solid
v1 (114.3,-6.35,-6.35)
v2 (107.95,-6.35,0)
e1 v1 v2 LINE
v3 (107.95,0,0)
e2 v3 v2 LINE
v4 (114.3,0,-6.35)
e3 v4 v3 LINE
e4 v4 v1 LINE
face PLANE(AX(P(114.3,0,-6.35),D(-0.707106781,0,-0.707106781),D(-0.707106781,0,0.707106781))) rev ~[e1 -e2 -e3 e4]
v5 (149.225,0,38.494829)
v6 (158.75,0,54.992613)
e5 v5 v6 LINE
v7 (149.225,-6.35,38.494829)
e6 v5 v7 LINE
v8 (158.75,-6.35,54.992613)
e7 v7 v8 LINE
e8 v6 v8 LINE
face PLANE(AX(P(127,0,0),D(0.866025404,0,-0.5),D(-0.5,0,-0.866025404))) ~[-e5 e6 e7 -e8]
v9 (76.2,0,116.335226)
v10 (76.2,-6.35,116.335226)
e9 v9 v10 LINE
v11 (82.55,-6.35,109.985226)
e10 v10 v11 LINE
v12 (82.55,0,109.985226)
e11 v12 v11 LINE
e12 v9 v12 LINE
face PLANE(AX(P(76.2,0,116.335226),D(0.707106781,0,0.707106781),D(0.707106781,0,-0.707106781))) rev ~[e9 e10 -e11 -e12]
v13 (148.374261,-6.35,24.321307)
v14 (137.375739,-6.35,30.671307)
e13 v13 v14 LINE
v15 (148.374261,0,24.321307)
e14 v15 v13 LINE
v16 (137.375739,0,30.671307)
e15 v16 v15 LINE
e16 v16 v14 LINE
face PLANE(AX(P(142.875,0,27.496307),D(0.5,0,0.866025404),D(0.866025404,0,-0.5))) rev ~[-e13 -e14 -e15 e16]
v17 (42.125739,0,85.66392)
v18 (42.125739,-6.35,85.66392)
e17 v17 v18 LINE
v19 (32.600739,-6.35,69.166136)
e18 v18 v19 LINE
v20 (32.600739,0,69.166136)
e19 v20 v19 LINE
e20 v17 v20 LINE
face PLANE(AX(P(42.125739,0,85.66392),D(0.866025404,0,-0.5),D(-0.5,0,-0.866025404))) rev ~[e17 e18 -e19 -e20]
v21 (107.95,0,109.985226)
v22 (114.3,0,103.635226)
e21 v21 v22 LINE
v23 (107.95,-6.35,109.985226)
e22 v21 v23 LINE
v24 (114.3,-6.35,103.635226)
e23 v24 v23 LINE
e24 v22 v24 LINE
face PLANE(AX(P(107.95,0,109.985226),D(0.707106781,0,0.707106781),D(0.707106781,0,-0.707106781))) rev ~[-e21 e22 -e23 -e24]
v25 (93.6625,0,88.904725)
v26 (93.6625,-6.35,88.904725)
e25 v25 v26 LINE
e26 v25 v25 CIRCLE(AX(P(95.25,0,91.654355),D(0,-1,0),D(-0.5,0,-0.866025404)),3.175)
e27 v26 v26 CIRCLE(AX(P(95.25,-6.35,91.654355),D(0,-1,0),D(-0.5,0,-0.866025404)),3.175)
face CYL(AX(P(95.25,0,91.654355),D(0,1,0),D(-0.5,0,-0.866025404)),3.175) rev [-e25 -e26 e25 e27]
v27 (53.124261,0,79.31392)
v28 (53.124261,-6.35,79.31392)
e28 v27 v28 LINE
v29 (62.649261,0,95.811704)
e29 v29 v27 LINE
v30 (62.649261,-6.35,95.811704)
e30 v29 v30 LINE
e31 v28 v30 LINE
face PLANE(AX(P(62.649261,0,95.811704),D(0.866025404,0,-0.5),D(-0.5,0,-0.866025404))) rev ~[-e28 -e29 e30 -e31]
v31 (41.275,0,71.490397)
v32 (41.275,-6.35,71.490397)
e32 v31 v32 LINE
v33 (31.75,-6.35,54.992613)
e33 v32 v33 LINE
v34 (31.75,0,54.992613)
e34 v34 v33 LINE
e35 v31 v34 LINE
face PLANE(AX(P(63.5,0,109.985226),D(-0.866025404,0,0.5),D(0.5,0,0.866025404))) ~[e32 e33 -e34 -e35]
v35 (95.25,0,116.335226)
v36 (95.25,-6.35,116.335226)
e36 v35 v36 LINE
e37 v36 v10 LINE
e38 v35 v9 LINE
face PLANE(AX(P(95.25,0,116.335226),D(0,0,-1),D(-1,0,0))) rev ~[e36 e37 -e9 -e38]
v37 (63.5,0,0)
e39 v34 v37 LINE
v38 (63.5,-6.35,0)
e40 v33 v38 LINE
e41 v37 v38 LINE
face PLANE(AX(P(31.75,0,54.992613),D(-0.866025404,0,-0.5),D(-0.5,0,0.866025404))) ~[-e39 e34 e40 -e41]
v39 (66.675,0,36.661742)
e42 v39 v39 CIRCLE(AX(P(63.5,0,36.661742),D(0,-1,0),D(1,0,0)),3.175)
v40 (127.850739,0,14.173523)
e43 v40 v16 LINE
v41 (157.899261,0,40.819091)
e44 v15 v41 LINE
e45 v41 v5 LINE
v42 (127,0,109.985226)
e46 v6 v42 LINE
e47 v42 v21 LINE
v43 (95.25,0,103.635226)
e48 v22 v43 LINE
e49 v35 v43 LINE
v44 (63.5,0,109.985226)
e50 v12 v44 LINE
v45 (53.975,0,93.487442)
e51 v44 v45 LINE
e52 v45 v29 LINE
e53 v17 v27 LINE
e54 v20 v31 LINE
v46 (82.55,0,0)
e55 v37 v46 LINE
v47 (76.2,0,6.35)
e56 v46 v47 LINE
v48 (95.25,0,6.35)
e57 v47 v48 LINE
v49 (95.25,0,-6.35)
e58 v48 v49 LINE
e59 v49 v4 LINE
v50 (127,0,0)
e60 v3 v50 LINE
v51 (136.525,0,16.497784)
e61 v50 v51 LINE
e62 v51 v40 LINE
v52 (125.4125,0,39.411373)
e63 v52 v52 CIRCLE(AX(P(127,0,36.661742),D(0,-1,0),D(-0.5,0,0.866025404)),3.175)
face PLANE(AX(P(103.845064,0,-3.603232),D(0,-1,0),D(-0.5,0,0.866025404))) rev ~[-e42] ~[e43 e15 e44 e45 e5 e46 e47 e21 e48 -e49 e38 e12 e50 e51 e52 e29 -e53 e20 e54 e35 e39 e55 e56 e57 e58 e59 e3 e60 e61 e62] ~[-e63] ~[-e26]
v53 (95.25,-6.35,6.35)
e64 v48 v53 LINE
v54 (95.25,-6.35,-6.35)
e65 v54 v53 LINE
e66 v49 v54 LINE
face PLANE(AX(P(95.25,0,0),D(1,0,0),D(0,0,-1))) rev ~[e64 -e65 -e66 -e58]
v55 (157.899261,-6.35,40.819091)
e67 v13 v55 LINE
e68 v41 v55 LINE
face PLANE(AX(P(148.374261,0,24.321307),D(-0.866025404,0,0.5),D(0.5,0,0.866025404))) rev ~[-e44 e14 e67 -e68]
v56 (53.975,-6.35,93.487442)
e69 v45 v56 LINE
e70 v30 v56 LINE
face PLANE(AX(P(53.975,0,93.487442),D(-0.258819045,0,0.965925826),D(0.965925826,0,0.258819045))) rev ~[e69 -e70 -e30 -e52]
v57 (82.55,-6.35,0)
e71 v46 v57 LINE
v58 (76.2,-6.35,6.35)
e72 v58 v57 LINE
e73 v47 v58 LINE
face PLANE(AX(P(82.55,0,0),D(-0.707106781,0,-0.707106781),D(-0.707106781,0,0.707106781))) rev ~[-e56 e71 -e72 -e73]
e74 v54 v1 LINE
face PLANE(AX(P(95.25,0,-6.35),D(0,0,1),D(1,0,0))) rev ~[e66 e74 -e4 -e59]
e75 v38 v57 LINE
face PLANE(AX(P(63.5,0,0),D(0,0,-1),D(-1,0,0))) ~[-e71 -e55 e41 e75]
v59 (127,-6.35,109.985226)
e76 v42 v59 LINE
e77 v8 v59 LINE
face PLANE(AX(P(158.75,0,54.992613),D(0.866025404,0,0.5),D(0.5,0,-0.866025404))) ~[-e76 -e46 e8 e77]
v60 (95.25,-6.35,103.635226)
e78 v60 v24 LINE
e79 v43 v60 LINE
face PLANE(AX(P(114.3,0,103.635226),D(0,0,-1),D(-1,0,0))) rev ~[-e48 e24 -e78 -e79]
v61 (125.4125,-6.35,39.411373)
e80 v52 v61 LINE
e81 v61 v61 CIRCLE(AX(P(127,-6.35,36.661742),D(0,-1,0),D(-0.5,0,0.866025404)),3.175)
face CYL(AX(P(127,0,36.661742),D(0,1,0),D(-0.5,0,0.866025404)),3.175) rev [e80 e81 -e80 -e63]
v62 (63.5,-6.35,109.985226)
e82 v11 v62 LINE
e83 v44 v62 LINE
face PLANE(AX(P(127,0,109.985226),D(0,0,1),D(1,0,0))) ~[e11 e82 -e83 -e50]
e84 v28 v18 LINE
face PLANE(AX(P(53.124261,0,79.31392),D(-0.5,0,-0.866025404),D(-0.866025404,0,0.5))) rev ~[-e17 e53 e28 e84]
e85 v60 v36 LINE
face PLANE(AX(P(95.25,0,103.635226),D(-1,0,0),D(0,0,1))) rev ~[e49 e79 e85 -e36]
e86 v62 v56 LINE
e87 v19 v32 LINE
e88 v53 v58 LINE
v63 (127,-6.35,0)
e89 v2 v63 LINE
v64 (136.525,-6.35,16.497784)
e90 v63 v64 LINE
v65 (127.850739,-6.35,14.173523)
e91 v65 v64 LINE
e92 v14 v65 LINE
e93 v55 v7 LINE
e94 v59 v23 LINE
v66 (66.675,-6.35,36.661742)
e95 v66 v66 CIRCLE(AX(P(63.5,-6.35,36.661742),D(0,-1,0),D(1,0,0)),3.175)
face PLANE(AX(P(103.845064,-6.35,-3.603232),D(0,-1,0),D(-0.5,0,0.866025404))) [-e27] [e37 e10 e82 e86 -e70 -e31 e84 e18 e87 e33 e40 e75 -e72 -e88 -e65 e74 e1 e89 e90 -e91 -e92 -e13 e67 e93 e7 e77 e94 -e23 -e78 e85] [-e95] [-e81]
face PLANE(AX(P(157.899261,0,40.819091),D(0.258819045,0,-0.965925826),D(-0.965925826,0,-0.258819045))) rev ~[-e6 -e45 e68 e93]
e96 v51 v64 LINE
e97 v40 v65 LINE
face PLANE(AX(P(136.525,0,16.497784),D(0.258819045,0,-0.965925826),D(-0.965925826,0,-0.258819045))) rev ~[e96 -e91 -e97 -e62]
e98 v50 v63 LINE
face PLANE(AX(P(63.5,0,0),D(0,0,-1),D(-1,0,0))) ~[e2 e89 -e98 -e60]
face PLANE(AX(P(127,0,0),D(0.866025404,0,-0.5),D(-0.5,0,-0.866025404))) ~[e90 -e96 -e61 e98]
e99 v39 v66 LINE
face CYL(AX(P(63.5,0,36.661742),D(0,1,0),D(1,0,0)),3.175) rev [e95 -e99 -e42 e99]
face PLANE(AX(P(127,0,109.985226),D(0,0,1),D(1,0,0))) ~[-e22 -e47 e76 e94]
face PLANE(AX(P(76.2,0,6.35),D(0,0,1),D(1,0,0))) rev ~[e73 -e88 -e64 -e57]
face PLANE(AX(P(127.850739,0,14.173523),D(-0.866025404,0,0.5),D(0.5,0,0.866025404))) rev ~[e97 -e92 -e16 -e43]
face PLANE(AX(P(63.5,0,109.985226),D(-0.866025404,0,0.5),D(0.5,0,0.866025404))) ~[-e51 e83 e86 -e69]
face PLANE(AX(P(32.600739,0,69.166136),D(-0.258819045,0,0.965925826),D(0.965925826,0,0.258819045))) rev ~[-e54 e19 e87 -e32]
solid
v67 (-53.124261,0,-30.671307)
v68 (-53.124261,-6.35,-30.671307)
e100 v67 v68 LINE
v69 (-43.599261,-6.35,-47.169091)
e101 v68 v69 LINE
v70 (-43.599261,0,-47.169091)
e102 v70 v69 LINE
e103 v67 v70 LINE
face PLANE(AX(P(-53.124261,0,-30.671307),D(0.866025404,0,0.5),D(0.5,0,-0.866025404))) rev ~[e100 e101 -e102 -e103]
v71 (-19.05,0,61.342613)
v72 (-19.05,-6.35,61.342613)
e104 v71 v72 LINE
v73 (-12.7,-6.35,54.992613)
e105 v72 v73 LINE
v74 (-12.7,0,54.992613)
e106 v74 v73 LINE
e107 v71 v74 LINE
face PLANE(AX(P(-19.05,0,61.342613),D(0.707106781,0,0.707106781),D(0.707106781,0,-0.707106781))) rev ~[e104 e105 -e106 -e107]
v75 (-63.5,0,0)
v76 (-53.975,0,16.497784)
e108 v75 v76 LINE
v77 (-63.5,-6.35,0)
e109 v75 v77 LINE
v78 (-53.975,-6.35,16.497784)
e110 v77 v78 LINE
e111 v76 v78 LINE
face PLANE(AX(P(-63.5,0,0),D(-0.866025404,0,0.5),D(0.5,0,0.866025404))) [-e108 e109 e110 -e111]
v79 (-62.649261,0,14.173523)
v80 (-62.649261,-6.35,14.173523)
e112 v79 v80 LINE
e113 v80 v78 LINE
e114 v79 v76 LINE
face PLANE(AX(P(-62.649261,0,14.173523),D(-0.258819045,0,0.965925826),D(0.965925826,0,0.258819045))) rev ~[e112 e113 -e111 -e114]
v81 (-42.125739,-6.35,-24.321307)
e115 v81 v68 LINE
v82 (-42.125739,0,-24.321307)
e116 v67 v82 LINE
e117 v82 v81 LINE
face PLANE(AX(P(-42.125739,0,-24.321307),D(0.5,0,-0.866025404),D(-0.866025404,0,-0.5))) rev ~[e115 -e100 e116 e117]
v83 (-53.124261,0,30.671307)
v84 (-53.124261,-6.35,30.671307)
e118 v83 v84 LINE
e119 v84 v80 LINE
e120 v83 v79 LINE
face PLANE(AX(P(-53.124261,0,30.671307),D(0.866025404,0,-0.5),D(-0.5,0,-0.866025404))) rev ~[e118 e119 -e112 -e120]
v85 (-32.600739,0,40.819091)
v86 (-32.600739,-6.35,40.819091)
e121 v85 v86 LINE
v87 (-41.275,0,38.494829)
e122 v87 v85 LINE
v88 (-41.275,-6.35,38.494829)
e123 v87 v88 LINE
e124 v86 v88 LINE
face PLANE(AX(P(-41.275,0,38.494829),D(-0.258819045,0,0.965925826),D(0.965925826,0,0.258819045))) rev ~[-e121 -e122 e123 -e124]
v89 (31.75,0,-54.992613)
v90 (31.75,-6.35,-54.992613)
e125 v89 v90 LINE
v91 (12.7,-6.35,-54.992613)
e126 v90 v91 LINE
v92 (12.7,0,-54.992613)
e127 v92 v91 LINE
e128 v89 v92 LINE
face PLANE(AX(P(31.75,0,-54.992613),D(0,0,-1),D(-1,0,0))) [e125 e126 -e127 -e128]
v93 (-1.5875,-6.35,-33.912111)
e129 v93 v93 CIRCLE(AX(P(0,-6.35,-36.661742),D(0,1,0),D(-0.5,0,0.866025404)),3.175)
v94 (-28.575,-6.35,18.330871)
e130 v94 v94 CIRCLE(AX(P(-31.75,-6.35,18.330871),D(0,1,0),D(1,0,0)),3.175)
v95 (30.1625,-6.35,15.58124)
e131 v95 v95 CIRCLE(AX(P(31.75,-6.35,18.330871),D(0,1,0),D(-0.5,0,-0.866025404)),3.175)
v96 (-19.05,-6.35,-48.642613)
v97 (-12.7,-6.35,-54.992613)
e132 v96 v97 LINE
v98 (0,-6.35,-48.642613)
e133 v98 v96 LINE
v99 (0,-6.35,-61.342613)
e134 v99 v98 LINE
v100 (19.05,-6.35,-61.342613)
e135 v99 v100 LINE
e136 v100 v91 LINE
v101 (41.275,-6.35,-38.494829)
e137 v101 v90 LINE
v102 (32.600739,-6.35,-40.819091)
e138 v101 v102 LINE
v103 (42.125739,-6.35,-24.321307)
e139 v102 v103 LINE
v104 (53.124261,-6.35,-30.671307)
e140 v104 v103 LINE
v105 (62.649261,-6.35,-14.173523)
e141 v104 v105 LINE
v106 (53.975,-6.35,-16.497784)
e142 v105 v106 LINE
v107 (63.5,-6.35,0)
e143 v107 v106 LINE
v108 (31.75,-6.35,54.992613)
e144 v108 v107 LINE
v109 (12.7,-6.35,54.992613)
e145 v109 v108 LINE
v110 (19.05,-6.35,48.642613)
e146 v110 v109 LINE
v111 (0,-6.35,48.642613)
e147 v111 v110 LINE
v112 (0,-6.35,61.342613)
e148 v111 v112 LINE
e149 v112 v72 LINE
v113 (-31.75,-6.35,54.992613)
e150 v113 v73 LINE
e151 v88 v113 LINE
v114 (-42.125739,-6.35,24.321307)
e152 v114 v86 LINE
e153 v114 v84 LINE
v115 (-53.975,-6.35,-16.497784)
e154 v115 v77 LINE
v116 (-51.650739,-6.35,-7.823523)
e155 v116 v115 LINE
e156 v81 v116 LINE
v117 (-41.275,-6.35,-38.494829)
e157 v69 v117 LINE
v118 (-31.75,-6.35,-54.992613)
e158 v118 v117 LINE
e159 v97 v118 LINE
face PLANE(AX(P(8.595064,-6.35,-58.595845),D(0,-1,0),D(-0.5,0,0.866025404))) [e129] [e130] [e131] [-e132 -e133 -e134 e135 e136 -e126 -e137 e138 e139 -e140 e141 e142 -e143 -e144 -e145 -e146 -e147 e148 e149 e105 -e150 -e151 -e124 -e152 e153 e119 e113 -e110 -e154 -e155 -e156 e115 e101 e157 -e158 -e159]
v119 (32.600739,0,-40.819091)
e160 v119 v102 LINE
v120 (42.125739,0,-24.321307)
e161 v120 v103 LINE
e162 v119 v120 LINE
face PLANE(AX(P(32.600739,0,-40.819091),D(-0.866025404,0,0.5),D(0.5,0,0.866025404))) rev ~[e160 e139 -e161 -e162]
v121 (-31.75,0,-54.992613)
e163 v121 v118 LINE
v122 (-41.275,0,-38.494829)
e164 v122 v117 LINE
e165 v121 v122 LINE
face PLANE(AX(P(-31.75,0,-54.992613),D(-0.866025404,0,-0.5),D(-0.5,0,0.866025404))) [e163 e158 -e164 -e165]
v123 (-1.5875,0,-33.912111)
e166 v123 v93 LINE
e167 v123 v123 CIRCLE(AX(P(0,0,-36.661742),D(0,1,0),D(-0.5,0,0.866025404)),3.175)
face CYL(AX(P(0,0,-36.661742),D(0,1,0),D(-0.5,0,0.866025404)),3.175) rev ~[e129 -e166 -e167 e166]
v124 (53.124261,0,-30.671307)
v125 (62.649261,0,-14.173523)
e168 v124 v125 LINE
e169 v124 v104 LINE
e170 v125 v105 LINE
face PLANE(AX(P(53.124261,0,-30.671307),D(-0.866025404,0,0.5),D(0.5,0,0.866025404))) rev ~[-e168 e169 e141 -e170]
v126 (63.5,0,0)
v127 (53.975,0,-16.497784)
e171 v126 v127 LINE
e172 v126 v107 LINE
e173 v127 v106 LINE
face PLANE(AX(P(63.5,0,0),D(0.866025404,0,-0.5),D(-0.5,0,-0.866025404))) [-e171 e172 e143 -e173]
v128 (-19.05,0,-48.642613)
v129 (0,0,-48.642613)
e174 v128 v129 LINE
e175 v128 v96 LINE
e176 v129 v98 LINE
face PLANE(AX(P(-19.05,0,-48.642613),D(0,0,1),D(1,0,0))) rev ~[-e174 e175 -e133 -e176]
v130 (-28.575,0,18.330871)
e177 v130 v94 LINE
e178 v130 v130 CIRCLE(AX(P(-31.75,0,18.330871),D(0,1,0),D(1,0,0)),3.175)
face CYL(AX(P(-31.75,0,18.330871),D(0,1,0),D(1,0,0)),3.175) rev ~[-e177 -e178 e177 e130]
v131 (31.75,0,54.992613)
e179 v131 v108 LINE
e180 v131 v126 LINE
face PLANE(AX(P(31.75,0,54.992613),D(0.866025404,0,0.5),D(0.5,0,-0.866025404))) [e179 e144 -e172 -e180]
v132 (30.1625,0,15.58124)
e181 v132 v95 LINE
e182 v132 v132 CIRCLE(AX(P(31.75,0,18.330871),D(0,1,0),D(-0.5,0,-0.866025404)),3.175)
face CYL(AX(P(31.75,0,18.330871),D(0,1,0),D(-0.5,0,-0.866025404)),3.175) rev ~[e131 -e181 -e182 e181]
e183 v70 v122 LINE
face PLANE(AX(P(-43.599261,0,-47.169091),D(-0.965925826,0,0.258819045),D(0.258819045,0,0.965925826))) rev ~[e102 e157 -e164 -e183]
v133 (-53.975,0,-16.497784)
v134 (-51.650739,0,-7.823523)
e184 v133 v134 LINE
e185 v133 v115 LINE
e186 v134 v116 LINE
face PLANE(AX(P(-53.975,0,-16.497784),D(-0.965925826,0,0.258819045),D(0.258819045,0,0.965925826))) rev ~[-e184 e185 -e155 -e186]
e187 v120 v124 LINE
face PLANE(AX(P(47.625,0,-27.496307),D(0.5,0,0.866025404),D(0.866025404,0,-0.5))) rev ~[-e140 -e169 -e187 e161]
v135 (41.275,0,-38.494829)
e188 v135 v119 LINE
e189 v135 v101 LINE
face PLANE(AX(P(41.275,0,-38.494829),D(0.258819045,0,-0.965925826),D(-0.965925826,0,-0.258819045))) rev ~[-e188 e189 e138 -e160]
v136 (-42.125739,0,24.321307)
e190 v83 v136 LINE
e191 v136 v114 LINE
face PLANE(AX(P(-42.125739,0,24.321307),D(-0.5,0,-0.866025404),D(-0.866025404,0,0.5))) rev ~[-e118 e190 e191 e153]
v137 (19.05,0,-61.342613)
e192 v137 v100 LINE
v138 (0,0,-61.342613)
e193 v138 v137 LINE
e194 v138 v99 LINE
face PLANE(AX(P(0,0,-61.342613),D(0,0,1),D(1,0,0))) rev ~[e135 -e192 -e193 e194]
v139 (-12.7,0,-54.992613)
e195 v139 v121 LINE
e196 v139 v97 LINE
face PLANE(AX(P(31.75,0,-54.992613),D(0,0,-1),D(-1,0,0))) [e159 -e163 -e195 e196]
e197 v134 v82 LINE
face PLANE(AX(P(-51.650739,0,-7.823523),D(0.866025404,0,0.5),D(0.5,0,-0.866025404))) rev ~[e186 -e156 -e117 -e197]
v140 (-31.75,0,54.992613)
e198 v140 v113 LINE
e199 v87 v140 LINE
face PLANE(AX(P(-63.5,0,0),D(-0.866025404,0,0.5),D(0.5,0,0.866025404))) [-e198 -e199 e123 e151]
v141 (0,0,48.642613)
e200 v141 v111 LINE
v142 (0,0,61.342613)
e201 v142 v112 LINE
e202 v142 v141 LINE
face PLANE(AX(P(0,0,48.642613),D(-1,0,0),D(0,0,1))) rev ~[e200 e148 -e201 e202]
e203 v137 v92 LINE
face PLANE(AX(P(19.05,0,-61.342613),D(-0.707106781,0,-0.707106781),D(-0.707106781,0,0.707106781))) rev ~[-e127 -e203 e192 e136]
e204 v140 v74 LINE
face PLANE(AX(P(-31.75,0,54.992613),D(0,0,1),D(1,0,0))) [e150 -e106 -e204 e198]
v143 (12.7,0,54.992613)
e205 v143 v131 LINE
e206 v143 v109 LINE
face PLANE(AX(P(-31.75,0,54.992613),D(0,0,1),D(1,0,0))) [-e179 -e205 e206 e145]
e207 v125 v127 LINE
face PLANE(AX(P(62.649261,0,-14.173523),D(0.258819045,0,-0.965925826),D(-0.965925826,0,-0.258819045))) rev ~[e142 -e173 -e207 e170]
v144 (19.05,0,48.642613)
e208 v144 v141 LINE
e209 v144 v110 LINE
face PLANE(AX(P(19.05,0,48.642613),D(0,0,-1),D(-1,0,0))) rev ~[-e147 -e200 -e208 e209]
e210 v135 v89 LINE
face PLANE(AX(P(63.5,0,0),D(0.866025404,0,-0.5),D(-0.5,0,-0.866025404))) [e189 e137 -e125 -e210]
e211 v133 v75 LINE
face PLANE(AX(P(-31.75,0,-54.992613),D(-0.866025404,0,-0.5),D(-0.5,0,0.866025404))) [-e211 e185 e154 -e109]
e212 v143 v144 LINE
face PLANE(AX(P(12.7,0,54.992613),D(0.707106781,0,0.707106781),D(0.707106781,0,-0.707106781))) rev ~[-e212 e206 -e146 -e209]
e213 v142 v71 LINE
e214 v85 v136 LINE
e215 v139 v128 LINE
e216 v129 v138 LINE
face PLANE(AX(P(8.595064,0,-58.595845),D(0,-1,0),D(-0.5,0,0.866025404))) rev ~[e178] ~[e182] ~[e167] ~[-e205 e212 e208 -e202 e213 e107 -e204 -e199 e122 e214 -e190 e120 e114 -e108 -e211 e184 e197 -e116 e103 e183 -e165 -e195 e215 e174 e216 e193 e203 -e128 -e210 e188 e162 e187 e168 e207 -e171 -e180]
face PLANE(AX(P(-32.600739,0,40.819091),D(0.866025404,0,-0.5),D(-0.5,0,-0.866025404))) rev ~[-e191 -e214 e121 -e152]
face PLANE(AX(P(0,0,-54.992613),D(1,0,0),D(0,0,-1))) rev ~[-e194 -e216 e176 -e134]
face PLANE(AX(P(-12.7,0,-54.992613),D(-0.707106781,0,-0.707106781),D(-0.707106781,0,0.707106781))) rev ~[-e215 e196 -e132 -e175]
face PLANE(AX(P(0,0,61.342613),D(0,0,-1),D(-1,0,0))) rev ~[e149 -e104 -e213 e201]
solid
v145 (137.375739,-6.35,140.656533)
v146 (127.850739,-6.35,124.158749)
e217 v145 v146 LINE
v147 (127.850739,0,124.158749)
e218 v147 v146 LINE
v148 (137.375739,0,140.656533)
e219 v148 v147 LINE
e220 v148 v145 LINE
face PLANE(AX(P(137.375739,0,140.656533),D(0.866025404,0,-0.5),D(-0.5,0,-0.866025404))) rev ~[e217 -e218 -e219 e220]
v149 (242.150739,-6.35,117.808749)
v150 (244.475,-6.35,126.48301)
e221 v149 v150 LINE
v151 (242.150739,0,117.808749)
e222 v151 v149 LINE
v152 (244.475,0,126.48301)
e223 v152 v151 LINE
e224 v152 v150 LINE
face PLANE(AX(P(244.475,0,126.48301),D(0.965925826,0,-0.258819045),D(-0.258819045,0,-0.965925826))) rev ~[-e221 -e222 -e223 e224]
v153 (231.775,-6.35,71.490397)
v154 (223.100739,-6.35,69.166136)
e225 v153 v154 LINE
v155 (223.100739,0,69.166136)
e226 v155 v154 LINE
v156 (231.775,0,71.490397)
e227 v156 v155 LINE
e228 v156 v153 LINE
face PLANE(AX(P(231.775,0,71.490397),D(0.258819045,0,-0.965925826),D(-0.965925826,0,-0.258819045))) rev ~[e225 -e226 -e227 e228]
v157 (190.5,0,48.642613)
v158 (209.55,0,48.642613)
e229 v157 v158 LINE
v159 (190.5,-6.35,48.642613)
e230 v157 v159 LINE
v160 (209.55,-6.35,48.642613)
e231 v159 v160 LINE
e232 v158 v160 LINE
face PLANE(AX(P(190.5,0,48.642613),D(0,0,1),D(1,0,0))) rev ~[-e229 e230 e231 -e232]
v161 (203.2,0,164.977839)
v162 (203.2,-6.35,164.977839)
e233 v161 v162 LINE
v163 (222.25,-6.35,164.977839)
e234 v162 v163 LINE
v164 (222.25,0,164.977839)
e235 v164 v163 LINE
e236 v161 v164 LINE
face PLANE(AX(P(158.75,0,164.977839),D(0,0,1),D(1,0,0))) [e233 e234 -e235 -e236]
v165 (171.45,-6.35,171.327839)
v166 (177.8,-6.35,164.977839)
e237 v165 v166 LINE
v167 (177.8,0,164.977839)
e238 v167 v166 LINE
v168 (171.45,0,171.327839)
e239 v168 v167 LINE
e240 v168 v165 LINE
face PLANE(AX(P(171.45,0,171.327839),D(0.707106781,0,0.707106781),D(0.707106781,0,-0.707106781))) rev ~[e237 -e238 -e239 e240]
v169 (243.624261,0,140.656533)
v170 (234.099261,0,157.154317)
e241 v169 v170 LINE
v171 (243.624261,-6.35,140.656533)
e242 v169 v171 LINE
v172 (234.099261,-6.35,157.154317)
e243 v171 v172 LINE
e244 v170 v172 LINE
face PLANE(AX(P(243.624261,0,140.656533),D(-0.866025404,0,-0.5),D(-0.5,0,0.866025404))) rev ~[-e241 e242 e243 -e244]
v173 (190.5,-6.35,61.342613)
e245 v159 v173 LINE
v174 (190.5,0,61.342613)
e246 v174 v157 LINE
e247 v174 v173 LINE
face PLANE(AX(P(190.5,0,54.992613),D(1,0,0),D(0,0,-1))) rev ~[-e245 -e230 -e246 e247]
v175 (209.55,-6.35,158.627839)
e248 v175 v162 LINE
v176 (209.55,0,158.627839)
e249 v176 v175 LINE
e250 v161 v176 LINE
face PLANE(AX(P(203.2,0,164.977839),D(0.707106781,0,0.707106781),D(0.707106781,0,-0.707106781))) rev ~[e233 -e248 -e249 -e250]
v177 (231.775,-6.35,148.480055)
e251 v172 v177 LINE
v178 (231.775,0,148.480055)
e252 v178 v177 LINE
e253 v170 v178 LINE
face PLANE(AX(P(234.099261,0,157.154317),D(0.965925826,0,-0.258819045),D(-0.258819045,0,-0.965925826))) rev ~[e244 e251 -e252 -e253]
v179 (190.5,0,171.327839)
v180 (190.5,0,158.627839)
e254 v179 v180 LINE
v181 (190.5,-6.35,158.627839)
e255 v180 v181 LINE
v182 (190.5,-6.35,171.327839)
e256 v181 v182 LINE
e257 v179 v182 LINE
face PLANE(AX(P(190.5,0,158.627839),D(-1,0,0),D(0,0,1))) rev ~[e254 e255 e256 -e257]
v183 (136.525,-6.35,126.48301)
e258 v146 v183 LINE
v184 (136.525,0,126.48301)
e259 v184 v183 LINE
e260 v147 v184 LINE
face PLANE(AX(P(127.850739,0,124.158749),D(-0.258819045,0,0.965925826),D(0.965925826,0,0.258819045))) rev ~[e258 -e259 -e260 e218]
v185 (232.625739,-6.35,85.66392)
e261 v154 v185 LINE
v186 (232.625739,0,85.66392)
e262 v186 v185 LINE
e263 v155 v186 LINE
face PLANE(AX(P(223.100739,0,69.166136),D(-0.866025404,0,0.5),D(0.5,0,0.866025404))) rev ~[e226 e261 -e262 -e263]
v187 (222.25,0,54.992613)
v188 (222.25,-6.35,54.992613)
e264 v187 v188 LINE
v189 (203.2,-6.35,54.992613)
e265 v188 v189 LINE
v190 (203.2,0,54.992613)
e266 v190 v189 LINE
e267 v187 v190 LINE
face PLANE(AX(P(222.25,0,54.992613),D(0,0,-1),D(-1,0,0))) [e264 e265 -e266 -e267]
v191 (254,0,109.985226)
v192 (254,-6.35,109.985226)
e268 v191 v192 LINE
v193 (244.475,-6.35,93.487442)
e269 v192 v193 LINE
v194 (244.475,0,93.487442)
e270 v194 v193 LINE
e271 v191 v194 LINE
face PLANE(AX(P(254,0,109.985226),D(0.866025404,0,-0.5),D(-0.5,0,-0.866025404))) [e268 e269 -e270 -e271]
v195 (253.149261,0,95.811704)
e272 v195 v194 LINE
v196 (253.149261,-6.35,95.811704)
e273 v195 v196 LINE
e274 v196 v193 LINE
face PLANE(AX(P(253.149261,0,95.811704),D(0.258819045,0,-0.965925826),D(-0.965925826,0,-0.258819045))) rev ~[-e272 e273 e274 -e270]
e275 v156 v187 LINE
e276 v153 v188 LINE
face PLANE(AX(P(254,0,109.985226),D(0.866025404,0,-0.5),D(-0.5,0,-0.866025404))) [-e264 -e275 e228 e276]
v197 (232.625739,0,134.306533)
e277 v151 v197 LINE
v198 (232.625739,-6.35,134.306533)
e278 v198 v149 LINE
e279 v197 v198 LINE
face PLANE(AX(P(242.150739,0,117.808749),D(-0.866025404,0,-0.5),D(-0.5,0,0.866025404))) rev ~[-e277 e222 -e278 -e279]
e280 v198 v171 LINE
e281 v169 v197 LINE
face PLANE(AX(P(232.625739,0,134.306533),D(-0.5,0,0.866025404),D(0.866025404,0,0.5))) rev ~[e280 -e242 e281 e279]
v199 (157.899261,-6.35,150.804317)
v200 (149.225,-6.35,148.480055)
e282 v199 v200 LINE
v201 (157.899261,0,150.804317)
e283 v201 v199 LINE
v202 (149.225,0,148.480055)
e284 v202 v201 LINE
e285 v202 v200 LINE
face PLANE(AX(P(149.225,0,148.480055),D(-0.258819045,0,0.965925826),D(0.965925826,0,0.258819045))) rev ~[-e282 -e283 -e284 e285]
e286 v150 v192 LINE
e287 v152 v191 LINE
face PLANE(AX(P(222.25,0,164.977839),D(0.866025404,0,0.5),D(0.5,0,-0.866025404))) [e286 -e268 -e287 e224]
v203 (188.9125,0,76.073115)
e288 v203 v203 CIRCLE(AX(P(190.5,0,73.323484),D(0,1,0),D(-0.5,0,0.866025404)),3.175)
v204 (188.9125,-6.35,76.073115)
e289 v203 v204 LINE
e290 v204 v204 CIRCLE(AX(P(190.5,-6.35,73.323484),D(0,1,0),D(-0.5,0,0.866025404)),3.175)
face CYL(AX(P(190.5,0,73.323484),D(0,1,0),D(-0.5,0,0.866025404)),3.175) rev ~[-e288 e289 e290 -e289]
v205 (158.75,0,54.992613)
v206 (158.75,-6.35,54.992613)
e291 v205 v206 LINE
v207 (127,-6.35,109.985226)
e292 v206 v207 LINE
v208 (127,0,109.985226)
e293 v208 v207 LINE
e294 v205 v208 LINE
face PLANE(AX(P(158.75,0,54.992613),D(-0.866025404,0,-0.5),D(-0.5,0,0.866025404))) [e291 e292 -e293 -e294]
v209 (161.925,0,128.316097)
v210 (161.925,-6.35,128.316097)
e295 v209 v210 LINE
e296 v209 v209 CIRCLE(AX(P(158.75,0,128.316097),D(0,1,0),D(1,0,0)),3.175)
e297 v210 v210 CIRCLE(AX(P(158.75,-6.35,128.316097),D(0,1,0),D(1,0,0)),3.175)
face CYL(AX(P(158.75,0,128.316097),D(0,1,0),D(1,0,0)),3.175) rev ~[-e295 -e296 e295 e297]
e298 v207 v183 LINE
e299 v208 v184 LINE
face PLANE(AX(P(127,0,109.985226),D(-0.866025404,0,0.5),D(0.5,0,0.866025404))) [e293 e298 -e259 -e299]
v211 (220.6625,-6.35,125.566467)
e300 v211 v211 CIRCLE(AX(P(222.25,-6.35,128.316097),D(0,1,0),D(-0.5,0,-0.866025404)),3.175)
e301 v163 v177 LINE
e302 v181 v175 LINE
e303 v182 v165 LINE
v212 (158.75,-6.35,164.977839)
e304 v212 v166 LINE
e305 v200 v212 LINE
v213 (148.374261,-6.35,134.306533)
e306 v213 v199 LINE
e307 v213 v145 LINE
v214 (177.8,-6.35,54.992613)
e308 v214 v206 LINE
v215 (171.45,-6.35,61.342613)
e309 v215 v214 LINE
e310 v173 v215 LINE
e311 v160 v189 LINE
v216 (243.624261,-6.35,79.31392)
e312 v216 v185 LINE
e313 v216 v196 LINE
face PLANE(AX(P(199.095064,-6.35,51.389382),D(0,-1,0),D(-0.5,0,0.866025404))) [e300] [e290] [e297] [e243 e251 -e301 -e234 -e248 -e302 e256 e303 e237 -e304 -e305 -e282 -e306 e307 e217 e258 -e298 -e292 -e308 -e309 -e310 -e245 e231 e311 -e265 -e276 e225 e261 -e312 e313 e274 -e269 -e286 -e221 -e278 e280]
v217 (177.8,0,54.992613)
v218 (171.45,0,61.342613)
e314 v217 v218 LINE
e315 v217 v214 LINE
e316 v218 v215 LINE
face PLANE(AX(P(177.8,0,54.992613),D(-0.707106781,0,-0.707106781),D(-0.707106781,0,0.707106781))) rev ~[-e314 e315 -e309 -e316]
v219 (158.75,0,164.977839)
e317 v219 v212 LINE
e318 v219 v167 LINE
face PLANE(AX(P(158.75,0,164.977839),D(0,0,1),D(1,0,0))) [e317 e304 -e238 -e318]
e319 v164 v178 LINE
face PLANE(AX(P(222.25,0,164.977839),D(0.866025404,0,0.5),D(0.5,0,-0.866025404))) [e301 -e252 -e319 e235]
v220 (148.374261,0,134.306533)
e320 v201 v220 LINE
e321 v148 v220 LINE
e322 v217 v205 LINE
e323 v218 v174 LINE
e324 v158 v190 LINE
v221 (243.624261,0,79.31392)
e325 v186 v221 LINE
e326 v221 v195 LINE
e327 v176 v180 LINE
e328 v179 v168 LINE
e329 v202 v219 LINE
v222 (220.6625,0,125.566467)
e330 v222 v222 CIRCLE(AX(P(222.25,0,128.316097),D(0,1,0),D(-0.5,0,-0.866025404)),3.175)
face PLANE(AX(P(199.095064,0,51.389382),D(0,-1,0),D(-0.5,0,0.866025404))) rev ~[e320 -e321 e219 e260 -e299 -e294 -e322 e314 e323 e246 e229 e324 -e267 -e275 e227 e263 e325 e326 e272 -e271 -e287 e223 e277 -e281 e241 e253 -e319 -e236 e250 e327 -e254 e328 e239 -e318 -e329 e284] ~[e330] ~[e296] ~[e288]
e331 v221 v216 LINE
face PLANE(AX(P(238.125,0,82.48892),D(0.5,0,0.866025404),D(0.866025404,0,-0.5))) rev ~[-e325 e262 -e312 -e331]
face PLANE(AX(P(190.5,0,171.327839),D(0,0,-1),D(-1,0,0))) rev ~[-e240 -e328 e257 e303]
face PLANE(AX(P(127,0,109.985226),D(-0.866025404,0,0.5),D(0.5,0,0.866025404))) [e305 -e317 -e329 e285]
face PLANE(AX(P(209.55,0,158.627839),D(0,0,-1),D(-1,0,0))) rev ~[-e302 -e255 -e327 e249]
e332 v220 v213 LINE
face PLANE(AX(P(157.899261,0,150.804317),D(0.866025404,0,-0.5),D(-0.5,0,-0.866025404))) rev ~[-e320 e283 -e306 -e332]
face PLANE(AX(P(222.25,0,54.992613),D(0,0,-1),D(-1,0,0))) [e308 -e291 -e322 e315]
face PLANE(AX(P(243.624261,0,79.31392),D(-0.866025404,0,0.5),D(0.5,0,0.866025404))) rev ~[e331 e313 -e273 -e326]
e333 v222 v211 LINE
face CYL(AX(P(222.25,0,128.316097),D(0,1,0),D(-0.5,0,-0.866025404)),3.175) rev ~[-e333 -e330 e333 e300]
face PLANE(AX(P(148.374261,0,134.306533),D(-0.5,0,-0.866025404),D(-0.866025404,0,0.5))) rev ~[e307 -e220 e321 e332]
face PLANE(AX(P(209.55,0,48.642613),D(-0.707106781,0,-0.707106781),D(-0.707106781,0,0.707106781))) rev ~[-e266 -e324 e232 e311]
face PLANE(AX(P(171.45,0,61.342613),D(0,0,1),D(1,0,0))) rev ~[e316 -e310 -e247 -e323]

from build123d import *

# Parameters (mm, degrees)
BOSS_EXTRUDE1_DEPTH = 6.35
SKETCH9_R           = 3.175
CUT_EXTRUDE3_DEPTH  = 7.35
CIRPATTERN6_COUNT   = 3
CUT_EXTRUDE4_DEPTH  = 7.35
BOSS_EXTRUDE4_DEPTH = 6.35
CIRPATTERN7_COUNT   = 6
CUT_EXTRUDE5_DEPTH  = 7.35
BOSS_EXTRUDE5_DEPTH = 6.35
CIRPATTERN8_COUNT   = 6
CUT_EXTRUDE6_DEPTH  = 7.35
BOSS_EXTRUDE6_DEPTH = 6.35
CIRPATTERN9_COUNT   = 6


with BuildPart() as part:
    # Sketch1 → Boss-Extrude1 (new body)
    with BuildSketch(Plane(origin=(0, 0, 0), x_dir=(1, 0, 0), z_dir=(0, 1, 0))):
        Polygon((63.5, 0), (31.75, 54.99261314), (-31.75, 54.99261314), (-63.5, 0), (-31.75, -54.99261314), (31.75, -54.99261314), align=None)
    extrude(amount=-BOSS_EXTRUDE1_DEPTH)

    # Sketch9 → Cut-Extrude3 (cut, through all)
    with BuildSketch(Plane(origin=(0, 0, 0), x_dir=(1, 0, 0), z_dir=(0, 1, 0))):
        with Locations((-31.75, -18.330871047)):
            Circle(SKETCH9_R)
    cut_extrude3 = extrude(amount=-CUT_EXTRUDE3_DEPTH, mode=Mode.SUBTRACT)

    # CirPattern6: Cut-Extrude3 ×3 about axis
    cirpattern6_axis = Axis((0, 0, 0), (0, 1, 0))
    for i in range(1, CIRPATTERN6_COUNT):
        add(cut_extrude3.rotate(cirpattern6_axis, i * 360 / CIRPATTERN6_COUNT), mode=Mode.SUBTRACT)


with BuildPart() as body_2:
    # Mirror3: mirrored copy
    add(part.part.mirror(Plane(origin=(31.75, -6.35, 54.99261314), x_dir=(-0.5, 0, 0.866025404), z_dir=(0.866025404, 0, 0.5))))


with BuildPart() as part_1:
    add(part.part)

    # Sketch10 → Cut-Extrude4 (cut, through all)
    with BuildSketch(Plane(origin=(0, 0, 0), x_dir=(1, 0, 0), z_dir=(0, 1, 0))):
        Polygon((41.275, 38.494829198), (32.600738686, 40.819090512), (42.125738686, 24.32130657), (47.625, 27.49630657), align=None)
    cut_extrude4 = extrude(amount=-CUT_EXTRUDE4_DEPTH, mode=Mode.SUBTRACT)

    # Sketch11 → Boss-Extrude4 (add)
    with BuildSketch(Plane(origin=(0, 0, 0), x_dir=(1, 0, 0), z_dir=(0, 1, 0))):
        Polygon((47.625, 27.49630657), (53.124261314, 30.67130657), (62.649261314, 14.173522628), (53.975, 16.497783942), align=None)
    boss_extrude4 = extrude(amount=-BOSS_EXTRUDE4_DEPTH)

    # CirPattern7: Cut-Extrude4, Boss-Extrude4 ×6 about axis, 1 skipped
    cirpattern7_axis = Axis((0, 0, 0), (0, 1, 0))
    add([cut_extrude4.rotate(cirpattern7_axis, i * 360 / CIRPATTERN7_COUNT) for i in range(1, CIRPATTERN7_COUNT) if i not in (5,)], mode=Mode.SUBTRACT)
    add([boss_extrude4.rotate(cirpattern7_axis, i * 360 / CIRPATTERN7_COUNT) for i in range(1, CIRPATTERN7_COUNT) if i not in (5,)])


with BuildPart() as body_3:
    # Mirror4: mirrored copy
    add(body_2.part.mirror(Plane(origin=(158.75, -6.35, 54.99261314), x_dir=(-0.5, 0, 0.866025404), z_dir=(0.866025404, 0, 0.5))))

    # Sketch16 → Cut-Extrude6 (cut, through all)
    with BuildSketch(Plane(origin=(0, 0, 0), x_dir=(1, 0, 0), z_dir=(0, 1, 0))):
        Polygon((231.775, -71.490397082), (223.100738686, -69.166135768), (232.625738686, -85.66391971), (238.125, -82.48891971), align=None)
    cut_extrude6 = extrude(amount=-CUT_EXTRUDE6_DEPTH, mode=Mode.SUBTRACT)

    # Sketch17 → Boss-Extrude6 (add)
    with BuildSketch(Plane(origin=(0, 0, 0), x_dir=(1, 0, 0), z_dir=(0, 1, 0))):
        Polygon((238.125, -82.48891971), (243.624261314, -79.31391971), (253.149261314, -95.811703653), (244.475, -93.487442339), align=None)
    boss_extrude6 = extrude(amount=-BOSS_EXTRUDE6_DEPTH)

    # CirPattern9: Cut-Extrude6, Boss-Extrude6 ×6 about axis, 1 skipped
    cirpattern9_axis = Axis((190.5, 0, 109.985226281), (0, 1, 0))
    add([cut_extrude6.rotate(cirpattern9_axis, i * 360 / CIRPATTERN9_COUNT) for i in range(1, CIRPATTERN9_COUNT) if i not in (2,)], mode=Mode.SUBTRACT)
    add([boss_extrude6.rotate(cirpattern9_axis, i * 360 / CIRPATTERN9_COUNT) for i in range(1, CIRPATTERN9_COUNT) if i not in (2,)])


with BuildPart() as body_2_1:
    add(body_2.part)

    # Sketch13 → Cut-Extrude5 (cut, through all)
    with BuildSketch(Plane(origin=(0, 0, 0), x_dir=(1, 0, 0), z_dir=(0, 1, 0))):
        Polygon((136.525, -16.497783942), (127.850738686, -14.173522628), (137.375738686, -30.67130657), (142.875, -27.49630657), align=None)
    cut_extrude5 = extrude(amount=-CUT_EXTRUDE5_DEPTH, mode=Mode.SUBTRACT)

    # Sketch14 → Boss-Extrude5 (add)
    with BuildSketch(Plane(origin=(0, 0, 0), x_dir=(1, 0, 0), z_dir=(0, 1, 0))):
        Polygon((142.875, -27.49630657), (148.374261314, -24.32130657), (157.899261314, -40.819090512), (149.225, -38.494829198), align=None)
    boss_extrude5 = extrude(amount=-BOSS_EXTRUDE5_DEPTH)

    # CirPattern8: Cut-Extrude5, Boss-Extrude5 ×6 about axis, 2 skipped
    cirpattern8_axis = Axis((95.25, 0, 54.99261314), (0, 1, 0))
    add([cut_extrude5.rotate(cirpattern8_axis, i * 360 / CIRPATTERN8_COUNT) for i in range(1, CIRPATTERN8_COUNT) if i not in (2, 5)], mode=Mode.SUBTRACT)
    add([boss_extrude5.rotate(cirpattern8_axis, i * 360 / CIRPATTERN8_COUNT) for i in range(1, CIRPATTERN8_COUNT) if i not in (2, 5)])


solid = Compound([part_1.part, body_3.part, body_2_1.part])
